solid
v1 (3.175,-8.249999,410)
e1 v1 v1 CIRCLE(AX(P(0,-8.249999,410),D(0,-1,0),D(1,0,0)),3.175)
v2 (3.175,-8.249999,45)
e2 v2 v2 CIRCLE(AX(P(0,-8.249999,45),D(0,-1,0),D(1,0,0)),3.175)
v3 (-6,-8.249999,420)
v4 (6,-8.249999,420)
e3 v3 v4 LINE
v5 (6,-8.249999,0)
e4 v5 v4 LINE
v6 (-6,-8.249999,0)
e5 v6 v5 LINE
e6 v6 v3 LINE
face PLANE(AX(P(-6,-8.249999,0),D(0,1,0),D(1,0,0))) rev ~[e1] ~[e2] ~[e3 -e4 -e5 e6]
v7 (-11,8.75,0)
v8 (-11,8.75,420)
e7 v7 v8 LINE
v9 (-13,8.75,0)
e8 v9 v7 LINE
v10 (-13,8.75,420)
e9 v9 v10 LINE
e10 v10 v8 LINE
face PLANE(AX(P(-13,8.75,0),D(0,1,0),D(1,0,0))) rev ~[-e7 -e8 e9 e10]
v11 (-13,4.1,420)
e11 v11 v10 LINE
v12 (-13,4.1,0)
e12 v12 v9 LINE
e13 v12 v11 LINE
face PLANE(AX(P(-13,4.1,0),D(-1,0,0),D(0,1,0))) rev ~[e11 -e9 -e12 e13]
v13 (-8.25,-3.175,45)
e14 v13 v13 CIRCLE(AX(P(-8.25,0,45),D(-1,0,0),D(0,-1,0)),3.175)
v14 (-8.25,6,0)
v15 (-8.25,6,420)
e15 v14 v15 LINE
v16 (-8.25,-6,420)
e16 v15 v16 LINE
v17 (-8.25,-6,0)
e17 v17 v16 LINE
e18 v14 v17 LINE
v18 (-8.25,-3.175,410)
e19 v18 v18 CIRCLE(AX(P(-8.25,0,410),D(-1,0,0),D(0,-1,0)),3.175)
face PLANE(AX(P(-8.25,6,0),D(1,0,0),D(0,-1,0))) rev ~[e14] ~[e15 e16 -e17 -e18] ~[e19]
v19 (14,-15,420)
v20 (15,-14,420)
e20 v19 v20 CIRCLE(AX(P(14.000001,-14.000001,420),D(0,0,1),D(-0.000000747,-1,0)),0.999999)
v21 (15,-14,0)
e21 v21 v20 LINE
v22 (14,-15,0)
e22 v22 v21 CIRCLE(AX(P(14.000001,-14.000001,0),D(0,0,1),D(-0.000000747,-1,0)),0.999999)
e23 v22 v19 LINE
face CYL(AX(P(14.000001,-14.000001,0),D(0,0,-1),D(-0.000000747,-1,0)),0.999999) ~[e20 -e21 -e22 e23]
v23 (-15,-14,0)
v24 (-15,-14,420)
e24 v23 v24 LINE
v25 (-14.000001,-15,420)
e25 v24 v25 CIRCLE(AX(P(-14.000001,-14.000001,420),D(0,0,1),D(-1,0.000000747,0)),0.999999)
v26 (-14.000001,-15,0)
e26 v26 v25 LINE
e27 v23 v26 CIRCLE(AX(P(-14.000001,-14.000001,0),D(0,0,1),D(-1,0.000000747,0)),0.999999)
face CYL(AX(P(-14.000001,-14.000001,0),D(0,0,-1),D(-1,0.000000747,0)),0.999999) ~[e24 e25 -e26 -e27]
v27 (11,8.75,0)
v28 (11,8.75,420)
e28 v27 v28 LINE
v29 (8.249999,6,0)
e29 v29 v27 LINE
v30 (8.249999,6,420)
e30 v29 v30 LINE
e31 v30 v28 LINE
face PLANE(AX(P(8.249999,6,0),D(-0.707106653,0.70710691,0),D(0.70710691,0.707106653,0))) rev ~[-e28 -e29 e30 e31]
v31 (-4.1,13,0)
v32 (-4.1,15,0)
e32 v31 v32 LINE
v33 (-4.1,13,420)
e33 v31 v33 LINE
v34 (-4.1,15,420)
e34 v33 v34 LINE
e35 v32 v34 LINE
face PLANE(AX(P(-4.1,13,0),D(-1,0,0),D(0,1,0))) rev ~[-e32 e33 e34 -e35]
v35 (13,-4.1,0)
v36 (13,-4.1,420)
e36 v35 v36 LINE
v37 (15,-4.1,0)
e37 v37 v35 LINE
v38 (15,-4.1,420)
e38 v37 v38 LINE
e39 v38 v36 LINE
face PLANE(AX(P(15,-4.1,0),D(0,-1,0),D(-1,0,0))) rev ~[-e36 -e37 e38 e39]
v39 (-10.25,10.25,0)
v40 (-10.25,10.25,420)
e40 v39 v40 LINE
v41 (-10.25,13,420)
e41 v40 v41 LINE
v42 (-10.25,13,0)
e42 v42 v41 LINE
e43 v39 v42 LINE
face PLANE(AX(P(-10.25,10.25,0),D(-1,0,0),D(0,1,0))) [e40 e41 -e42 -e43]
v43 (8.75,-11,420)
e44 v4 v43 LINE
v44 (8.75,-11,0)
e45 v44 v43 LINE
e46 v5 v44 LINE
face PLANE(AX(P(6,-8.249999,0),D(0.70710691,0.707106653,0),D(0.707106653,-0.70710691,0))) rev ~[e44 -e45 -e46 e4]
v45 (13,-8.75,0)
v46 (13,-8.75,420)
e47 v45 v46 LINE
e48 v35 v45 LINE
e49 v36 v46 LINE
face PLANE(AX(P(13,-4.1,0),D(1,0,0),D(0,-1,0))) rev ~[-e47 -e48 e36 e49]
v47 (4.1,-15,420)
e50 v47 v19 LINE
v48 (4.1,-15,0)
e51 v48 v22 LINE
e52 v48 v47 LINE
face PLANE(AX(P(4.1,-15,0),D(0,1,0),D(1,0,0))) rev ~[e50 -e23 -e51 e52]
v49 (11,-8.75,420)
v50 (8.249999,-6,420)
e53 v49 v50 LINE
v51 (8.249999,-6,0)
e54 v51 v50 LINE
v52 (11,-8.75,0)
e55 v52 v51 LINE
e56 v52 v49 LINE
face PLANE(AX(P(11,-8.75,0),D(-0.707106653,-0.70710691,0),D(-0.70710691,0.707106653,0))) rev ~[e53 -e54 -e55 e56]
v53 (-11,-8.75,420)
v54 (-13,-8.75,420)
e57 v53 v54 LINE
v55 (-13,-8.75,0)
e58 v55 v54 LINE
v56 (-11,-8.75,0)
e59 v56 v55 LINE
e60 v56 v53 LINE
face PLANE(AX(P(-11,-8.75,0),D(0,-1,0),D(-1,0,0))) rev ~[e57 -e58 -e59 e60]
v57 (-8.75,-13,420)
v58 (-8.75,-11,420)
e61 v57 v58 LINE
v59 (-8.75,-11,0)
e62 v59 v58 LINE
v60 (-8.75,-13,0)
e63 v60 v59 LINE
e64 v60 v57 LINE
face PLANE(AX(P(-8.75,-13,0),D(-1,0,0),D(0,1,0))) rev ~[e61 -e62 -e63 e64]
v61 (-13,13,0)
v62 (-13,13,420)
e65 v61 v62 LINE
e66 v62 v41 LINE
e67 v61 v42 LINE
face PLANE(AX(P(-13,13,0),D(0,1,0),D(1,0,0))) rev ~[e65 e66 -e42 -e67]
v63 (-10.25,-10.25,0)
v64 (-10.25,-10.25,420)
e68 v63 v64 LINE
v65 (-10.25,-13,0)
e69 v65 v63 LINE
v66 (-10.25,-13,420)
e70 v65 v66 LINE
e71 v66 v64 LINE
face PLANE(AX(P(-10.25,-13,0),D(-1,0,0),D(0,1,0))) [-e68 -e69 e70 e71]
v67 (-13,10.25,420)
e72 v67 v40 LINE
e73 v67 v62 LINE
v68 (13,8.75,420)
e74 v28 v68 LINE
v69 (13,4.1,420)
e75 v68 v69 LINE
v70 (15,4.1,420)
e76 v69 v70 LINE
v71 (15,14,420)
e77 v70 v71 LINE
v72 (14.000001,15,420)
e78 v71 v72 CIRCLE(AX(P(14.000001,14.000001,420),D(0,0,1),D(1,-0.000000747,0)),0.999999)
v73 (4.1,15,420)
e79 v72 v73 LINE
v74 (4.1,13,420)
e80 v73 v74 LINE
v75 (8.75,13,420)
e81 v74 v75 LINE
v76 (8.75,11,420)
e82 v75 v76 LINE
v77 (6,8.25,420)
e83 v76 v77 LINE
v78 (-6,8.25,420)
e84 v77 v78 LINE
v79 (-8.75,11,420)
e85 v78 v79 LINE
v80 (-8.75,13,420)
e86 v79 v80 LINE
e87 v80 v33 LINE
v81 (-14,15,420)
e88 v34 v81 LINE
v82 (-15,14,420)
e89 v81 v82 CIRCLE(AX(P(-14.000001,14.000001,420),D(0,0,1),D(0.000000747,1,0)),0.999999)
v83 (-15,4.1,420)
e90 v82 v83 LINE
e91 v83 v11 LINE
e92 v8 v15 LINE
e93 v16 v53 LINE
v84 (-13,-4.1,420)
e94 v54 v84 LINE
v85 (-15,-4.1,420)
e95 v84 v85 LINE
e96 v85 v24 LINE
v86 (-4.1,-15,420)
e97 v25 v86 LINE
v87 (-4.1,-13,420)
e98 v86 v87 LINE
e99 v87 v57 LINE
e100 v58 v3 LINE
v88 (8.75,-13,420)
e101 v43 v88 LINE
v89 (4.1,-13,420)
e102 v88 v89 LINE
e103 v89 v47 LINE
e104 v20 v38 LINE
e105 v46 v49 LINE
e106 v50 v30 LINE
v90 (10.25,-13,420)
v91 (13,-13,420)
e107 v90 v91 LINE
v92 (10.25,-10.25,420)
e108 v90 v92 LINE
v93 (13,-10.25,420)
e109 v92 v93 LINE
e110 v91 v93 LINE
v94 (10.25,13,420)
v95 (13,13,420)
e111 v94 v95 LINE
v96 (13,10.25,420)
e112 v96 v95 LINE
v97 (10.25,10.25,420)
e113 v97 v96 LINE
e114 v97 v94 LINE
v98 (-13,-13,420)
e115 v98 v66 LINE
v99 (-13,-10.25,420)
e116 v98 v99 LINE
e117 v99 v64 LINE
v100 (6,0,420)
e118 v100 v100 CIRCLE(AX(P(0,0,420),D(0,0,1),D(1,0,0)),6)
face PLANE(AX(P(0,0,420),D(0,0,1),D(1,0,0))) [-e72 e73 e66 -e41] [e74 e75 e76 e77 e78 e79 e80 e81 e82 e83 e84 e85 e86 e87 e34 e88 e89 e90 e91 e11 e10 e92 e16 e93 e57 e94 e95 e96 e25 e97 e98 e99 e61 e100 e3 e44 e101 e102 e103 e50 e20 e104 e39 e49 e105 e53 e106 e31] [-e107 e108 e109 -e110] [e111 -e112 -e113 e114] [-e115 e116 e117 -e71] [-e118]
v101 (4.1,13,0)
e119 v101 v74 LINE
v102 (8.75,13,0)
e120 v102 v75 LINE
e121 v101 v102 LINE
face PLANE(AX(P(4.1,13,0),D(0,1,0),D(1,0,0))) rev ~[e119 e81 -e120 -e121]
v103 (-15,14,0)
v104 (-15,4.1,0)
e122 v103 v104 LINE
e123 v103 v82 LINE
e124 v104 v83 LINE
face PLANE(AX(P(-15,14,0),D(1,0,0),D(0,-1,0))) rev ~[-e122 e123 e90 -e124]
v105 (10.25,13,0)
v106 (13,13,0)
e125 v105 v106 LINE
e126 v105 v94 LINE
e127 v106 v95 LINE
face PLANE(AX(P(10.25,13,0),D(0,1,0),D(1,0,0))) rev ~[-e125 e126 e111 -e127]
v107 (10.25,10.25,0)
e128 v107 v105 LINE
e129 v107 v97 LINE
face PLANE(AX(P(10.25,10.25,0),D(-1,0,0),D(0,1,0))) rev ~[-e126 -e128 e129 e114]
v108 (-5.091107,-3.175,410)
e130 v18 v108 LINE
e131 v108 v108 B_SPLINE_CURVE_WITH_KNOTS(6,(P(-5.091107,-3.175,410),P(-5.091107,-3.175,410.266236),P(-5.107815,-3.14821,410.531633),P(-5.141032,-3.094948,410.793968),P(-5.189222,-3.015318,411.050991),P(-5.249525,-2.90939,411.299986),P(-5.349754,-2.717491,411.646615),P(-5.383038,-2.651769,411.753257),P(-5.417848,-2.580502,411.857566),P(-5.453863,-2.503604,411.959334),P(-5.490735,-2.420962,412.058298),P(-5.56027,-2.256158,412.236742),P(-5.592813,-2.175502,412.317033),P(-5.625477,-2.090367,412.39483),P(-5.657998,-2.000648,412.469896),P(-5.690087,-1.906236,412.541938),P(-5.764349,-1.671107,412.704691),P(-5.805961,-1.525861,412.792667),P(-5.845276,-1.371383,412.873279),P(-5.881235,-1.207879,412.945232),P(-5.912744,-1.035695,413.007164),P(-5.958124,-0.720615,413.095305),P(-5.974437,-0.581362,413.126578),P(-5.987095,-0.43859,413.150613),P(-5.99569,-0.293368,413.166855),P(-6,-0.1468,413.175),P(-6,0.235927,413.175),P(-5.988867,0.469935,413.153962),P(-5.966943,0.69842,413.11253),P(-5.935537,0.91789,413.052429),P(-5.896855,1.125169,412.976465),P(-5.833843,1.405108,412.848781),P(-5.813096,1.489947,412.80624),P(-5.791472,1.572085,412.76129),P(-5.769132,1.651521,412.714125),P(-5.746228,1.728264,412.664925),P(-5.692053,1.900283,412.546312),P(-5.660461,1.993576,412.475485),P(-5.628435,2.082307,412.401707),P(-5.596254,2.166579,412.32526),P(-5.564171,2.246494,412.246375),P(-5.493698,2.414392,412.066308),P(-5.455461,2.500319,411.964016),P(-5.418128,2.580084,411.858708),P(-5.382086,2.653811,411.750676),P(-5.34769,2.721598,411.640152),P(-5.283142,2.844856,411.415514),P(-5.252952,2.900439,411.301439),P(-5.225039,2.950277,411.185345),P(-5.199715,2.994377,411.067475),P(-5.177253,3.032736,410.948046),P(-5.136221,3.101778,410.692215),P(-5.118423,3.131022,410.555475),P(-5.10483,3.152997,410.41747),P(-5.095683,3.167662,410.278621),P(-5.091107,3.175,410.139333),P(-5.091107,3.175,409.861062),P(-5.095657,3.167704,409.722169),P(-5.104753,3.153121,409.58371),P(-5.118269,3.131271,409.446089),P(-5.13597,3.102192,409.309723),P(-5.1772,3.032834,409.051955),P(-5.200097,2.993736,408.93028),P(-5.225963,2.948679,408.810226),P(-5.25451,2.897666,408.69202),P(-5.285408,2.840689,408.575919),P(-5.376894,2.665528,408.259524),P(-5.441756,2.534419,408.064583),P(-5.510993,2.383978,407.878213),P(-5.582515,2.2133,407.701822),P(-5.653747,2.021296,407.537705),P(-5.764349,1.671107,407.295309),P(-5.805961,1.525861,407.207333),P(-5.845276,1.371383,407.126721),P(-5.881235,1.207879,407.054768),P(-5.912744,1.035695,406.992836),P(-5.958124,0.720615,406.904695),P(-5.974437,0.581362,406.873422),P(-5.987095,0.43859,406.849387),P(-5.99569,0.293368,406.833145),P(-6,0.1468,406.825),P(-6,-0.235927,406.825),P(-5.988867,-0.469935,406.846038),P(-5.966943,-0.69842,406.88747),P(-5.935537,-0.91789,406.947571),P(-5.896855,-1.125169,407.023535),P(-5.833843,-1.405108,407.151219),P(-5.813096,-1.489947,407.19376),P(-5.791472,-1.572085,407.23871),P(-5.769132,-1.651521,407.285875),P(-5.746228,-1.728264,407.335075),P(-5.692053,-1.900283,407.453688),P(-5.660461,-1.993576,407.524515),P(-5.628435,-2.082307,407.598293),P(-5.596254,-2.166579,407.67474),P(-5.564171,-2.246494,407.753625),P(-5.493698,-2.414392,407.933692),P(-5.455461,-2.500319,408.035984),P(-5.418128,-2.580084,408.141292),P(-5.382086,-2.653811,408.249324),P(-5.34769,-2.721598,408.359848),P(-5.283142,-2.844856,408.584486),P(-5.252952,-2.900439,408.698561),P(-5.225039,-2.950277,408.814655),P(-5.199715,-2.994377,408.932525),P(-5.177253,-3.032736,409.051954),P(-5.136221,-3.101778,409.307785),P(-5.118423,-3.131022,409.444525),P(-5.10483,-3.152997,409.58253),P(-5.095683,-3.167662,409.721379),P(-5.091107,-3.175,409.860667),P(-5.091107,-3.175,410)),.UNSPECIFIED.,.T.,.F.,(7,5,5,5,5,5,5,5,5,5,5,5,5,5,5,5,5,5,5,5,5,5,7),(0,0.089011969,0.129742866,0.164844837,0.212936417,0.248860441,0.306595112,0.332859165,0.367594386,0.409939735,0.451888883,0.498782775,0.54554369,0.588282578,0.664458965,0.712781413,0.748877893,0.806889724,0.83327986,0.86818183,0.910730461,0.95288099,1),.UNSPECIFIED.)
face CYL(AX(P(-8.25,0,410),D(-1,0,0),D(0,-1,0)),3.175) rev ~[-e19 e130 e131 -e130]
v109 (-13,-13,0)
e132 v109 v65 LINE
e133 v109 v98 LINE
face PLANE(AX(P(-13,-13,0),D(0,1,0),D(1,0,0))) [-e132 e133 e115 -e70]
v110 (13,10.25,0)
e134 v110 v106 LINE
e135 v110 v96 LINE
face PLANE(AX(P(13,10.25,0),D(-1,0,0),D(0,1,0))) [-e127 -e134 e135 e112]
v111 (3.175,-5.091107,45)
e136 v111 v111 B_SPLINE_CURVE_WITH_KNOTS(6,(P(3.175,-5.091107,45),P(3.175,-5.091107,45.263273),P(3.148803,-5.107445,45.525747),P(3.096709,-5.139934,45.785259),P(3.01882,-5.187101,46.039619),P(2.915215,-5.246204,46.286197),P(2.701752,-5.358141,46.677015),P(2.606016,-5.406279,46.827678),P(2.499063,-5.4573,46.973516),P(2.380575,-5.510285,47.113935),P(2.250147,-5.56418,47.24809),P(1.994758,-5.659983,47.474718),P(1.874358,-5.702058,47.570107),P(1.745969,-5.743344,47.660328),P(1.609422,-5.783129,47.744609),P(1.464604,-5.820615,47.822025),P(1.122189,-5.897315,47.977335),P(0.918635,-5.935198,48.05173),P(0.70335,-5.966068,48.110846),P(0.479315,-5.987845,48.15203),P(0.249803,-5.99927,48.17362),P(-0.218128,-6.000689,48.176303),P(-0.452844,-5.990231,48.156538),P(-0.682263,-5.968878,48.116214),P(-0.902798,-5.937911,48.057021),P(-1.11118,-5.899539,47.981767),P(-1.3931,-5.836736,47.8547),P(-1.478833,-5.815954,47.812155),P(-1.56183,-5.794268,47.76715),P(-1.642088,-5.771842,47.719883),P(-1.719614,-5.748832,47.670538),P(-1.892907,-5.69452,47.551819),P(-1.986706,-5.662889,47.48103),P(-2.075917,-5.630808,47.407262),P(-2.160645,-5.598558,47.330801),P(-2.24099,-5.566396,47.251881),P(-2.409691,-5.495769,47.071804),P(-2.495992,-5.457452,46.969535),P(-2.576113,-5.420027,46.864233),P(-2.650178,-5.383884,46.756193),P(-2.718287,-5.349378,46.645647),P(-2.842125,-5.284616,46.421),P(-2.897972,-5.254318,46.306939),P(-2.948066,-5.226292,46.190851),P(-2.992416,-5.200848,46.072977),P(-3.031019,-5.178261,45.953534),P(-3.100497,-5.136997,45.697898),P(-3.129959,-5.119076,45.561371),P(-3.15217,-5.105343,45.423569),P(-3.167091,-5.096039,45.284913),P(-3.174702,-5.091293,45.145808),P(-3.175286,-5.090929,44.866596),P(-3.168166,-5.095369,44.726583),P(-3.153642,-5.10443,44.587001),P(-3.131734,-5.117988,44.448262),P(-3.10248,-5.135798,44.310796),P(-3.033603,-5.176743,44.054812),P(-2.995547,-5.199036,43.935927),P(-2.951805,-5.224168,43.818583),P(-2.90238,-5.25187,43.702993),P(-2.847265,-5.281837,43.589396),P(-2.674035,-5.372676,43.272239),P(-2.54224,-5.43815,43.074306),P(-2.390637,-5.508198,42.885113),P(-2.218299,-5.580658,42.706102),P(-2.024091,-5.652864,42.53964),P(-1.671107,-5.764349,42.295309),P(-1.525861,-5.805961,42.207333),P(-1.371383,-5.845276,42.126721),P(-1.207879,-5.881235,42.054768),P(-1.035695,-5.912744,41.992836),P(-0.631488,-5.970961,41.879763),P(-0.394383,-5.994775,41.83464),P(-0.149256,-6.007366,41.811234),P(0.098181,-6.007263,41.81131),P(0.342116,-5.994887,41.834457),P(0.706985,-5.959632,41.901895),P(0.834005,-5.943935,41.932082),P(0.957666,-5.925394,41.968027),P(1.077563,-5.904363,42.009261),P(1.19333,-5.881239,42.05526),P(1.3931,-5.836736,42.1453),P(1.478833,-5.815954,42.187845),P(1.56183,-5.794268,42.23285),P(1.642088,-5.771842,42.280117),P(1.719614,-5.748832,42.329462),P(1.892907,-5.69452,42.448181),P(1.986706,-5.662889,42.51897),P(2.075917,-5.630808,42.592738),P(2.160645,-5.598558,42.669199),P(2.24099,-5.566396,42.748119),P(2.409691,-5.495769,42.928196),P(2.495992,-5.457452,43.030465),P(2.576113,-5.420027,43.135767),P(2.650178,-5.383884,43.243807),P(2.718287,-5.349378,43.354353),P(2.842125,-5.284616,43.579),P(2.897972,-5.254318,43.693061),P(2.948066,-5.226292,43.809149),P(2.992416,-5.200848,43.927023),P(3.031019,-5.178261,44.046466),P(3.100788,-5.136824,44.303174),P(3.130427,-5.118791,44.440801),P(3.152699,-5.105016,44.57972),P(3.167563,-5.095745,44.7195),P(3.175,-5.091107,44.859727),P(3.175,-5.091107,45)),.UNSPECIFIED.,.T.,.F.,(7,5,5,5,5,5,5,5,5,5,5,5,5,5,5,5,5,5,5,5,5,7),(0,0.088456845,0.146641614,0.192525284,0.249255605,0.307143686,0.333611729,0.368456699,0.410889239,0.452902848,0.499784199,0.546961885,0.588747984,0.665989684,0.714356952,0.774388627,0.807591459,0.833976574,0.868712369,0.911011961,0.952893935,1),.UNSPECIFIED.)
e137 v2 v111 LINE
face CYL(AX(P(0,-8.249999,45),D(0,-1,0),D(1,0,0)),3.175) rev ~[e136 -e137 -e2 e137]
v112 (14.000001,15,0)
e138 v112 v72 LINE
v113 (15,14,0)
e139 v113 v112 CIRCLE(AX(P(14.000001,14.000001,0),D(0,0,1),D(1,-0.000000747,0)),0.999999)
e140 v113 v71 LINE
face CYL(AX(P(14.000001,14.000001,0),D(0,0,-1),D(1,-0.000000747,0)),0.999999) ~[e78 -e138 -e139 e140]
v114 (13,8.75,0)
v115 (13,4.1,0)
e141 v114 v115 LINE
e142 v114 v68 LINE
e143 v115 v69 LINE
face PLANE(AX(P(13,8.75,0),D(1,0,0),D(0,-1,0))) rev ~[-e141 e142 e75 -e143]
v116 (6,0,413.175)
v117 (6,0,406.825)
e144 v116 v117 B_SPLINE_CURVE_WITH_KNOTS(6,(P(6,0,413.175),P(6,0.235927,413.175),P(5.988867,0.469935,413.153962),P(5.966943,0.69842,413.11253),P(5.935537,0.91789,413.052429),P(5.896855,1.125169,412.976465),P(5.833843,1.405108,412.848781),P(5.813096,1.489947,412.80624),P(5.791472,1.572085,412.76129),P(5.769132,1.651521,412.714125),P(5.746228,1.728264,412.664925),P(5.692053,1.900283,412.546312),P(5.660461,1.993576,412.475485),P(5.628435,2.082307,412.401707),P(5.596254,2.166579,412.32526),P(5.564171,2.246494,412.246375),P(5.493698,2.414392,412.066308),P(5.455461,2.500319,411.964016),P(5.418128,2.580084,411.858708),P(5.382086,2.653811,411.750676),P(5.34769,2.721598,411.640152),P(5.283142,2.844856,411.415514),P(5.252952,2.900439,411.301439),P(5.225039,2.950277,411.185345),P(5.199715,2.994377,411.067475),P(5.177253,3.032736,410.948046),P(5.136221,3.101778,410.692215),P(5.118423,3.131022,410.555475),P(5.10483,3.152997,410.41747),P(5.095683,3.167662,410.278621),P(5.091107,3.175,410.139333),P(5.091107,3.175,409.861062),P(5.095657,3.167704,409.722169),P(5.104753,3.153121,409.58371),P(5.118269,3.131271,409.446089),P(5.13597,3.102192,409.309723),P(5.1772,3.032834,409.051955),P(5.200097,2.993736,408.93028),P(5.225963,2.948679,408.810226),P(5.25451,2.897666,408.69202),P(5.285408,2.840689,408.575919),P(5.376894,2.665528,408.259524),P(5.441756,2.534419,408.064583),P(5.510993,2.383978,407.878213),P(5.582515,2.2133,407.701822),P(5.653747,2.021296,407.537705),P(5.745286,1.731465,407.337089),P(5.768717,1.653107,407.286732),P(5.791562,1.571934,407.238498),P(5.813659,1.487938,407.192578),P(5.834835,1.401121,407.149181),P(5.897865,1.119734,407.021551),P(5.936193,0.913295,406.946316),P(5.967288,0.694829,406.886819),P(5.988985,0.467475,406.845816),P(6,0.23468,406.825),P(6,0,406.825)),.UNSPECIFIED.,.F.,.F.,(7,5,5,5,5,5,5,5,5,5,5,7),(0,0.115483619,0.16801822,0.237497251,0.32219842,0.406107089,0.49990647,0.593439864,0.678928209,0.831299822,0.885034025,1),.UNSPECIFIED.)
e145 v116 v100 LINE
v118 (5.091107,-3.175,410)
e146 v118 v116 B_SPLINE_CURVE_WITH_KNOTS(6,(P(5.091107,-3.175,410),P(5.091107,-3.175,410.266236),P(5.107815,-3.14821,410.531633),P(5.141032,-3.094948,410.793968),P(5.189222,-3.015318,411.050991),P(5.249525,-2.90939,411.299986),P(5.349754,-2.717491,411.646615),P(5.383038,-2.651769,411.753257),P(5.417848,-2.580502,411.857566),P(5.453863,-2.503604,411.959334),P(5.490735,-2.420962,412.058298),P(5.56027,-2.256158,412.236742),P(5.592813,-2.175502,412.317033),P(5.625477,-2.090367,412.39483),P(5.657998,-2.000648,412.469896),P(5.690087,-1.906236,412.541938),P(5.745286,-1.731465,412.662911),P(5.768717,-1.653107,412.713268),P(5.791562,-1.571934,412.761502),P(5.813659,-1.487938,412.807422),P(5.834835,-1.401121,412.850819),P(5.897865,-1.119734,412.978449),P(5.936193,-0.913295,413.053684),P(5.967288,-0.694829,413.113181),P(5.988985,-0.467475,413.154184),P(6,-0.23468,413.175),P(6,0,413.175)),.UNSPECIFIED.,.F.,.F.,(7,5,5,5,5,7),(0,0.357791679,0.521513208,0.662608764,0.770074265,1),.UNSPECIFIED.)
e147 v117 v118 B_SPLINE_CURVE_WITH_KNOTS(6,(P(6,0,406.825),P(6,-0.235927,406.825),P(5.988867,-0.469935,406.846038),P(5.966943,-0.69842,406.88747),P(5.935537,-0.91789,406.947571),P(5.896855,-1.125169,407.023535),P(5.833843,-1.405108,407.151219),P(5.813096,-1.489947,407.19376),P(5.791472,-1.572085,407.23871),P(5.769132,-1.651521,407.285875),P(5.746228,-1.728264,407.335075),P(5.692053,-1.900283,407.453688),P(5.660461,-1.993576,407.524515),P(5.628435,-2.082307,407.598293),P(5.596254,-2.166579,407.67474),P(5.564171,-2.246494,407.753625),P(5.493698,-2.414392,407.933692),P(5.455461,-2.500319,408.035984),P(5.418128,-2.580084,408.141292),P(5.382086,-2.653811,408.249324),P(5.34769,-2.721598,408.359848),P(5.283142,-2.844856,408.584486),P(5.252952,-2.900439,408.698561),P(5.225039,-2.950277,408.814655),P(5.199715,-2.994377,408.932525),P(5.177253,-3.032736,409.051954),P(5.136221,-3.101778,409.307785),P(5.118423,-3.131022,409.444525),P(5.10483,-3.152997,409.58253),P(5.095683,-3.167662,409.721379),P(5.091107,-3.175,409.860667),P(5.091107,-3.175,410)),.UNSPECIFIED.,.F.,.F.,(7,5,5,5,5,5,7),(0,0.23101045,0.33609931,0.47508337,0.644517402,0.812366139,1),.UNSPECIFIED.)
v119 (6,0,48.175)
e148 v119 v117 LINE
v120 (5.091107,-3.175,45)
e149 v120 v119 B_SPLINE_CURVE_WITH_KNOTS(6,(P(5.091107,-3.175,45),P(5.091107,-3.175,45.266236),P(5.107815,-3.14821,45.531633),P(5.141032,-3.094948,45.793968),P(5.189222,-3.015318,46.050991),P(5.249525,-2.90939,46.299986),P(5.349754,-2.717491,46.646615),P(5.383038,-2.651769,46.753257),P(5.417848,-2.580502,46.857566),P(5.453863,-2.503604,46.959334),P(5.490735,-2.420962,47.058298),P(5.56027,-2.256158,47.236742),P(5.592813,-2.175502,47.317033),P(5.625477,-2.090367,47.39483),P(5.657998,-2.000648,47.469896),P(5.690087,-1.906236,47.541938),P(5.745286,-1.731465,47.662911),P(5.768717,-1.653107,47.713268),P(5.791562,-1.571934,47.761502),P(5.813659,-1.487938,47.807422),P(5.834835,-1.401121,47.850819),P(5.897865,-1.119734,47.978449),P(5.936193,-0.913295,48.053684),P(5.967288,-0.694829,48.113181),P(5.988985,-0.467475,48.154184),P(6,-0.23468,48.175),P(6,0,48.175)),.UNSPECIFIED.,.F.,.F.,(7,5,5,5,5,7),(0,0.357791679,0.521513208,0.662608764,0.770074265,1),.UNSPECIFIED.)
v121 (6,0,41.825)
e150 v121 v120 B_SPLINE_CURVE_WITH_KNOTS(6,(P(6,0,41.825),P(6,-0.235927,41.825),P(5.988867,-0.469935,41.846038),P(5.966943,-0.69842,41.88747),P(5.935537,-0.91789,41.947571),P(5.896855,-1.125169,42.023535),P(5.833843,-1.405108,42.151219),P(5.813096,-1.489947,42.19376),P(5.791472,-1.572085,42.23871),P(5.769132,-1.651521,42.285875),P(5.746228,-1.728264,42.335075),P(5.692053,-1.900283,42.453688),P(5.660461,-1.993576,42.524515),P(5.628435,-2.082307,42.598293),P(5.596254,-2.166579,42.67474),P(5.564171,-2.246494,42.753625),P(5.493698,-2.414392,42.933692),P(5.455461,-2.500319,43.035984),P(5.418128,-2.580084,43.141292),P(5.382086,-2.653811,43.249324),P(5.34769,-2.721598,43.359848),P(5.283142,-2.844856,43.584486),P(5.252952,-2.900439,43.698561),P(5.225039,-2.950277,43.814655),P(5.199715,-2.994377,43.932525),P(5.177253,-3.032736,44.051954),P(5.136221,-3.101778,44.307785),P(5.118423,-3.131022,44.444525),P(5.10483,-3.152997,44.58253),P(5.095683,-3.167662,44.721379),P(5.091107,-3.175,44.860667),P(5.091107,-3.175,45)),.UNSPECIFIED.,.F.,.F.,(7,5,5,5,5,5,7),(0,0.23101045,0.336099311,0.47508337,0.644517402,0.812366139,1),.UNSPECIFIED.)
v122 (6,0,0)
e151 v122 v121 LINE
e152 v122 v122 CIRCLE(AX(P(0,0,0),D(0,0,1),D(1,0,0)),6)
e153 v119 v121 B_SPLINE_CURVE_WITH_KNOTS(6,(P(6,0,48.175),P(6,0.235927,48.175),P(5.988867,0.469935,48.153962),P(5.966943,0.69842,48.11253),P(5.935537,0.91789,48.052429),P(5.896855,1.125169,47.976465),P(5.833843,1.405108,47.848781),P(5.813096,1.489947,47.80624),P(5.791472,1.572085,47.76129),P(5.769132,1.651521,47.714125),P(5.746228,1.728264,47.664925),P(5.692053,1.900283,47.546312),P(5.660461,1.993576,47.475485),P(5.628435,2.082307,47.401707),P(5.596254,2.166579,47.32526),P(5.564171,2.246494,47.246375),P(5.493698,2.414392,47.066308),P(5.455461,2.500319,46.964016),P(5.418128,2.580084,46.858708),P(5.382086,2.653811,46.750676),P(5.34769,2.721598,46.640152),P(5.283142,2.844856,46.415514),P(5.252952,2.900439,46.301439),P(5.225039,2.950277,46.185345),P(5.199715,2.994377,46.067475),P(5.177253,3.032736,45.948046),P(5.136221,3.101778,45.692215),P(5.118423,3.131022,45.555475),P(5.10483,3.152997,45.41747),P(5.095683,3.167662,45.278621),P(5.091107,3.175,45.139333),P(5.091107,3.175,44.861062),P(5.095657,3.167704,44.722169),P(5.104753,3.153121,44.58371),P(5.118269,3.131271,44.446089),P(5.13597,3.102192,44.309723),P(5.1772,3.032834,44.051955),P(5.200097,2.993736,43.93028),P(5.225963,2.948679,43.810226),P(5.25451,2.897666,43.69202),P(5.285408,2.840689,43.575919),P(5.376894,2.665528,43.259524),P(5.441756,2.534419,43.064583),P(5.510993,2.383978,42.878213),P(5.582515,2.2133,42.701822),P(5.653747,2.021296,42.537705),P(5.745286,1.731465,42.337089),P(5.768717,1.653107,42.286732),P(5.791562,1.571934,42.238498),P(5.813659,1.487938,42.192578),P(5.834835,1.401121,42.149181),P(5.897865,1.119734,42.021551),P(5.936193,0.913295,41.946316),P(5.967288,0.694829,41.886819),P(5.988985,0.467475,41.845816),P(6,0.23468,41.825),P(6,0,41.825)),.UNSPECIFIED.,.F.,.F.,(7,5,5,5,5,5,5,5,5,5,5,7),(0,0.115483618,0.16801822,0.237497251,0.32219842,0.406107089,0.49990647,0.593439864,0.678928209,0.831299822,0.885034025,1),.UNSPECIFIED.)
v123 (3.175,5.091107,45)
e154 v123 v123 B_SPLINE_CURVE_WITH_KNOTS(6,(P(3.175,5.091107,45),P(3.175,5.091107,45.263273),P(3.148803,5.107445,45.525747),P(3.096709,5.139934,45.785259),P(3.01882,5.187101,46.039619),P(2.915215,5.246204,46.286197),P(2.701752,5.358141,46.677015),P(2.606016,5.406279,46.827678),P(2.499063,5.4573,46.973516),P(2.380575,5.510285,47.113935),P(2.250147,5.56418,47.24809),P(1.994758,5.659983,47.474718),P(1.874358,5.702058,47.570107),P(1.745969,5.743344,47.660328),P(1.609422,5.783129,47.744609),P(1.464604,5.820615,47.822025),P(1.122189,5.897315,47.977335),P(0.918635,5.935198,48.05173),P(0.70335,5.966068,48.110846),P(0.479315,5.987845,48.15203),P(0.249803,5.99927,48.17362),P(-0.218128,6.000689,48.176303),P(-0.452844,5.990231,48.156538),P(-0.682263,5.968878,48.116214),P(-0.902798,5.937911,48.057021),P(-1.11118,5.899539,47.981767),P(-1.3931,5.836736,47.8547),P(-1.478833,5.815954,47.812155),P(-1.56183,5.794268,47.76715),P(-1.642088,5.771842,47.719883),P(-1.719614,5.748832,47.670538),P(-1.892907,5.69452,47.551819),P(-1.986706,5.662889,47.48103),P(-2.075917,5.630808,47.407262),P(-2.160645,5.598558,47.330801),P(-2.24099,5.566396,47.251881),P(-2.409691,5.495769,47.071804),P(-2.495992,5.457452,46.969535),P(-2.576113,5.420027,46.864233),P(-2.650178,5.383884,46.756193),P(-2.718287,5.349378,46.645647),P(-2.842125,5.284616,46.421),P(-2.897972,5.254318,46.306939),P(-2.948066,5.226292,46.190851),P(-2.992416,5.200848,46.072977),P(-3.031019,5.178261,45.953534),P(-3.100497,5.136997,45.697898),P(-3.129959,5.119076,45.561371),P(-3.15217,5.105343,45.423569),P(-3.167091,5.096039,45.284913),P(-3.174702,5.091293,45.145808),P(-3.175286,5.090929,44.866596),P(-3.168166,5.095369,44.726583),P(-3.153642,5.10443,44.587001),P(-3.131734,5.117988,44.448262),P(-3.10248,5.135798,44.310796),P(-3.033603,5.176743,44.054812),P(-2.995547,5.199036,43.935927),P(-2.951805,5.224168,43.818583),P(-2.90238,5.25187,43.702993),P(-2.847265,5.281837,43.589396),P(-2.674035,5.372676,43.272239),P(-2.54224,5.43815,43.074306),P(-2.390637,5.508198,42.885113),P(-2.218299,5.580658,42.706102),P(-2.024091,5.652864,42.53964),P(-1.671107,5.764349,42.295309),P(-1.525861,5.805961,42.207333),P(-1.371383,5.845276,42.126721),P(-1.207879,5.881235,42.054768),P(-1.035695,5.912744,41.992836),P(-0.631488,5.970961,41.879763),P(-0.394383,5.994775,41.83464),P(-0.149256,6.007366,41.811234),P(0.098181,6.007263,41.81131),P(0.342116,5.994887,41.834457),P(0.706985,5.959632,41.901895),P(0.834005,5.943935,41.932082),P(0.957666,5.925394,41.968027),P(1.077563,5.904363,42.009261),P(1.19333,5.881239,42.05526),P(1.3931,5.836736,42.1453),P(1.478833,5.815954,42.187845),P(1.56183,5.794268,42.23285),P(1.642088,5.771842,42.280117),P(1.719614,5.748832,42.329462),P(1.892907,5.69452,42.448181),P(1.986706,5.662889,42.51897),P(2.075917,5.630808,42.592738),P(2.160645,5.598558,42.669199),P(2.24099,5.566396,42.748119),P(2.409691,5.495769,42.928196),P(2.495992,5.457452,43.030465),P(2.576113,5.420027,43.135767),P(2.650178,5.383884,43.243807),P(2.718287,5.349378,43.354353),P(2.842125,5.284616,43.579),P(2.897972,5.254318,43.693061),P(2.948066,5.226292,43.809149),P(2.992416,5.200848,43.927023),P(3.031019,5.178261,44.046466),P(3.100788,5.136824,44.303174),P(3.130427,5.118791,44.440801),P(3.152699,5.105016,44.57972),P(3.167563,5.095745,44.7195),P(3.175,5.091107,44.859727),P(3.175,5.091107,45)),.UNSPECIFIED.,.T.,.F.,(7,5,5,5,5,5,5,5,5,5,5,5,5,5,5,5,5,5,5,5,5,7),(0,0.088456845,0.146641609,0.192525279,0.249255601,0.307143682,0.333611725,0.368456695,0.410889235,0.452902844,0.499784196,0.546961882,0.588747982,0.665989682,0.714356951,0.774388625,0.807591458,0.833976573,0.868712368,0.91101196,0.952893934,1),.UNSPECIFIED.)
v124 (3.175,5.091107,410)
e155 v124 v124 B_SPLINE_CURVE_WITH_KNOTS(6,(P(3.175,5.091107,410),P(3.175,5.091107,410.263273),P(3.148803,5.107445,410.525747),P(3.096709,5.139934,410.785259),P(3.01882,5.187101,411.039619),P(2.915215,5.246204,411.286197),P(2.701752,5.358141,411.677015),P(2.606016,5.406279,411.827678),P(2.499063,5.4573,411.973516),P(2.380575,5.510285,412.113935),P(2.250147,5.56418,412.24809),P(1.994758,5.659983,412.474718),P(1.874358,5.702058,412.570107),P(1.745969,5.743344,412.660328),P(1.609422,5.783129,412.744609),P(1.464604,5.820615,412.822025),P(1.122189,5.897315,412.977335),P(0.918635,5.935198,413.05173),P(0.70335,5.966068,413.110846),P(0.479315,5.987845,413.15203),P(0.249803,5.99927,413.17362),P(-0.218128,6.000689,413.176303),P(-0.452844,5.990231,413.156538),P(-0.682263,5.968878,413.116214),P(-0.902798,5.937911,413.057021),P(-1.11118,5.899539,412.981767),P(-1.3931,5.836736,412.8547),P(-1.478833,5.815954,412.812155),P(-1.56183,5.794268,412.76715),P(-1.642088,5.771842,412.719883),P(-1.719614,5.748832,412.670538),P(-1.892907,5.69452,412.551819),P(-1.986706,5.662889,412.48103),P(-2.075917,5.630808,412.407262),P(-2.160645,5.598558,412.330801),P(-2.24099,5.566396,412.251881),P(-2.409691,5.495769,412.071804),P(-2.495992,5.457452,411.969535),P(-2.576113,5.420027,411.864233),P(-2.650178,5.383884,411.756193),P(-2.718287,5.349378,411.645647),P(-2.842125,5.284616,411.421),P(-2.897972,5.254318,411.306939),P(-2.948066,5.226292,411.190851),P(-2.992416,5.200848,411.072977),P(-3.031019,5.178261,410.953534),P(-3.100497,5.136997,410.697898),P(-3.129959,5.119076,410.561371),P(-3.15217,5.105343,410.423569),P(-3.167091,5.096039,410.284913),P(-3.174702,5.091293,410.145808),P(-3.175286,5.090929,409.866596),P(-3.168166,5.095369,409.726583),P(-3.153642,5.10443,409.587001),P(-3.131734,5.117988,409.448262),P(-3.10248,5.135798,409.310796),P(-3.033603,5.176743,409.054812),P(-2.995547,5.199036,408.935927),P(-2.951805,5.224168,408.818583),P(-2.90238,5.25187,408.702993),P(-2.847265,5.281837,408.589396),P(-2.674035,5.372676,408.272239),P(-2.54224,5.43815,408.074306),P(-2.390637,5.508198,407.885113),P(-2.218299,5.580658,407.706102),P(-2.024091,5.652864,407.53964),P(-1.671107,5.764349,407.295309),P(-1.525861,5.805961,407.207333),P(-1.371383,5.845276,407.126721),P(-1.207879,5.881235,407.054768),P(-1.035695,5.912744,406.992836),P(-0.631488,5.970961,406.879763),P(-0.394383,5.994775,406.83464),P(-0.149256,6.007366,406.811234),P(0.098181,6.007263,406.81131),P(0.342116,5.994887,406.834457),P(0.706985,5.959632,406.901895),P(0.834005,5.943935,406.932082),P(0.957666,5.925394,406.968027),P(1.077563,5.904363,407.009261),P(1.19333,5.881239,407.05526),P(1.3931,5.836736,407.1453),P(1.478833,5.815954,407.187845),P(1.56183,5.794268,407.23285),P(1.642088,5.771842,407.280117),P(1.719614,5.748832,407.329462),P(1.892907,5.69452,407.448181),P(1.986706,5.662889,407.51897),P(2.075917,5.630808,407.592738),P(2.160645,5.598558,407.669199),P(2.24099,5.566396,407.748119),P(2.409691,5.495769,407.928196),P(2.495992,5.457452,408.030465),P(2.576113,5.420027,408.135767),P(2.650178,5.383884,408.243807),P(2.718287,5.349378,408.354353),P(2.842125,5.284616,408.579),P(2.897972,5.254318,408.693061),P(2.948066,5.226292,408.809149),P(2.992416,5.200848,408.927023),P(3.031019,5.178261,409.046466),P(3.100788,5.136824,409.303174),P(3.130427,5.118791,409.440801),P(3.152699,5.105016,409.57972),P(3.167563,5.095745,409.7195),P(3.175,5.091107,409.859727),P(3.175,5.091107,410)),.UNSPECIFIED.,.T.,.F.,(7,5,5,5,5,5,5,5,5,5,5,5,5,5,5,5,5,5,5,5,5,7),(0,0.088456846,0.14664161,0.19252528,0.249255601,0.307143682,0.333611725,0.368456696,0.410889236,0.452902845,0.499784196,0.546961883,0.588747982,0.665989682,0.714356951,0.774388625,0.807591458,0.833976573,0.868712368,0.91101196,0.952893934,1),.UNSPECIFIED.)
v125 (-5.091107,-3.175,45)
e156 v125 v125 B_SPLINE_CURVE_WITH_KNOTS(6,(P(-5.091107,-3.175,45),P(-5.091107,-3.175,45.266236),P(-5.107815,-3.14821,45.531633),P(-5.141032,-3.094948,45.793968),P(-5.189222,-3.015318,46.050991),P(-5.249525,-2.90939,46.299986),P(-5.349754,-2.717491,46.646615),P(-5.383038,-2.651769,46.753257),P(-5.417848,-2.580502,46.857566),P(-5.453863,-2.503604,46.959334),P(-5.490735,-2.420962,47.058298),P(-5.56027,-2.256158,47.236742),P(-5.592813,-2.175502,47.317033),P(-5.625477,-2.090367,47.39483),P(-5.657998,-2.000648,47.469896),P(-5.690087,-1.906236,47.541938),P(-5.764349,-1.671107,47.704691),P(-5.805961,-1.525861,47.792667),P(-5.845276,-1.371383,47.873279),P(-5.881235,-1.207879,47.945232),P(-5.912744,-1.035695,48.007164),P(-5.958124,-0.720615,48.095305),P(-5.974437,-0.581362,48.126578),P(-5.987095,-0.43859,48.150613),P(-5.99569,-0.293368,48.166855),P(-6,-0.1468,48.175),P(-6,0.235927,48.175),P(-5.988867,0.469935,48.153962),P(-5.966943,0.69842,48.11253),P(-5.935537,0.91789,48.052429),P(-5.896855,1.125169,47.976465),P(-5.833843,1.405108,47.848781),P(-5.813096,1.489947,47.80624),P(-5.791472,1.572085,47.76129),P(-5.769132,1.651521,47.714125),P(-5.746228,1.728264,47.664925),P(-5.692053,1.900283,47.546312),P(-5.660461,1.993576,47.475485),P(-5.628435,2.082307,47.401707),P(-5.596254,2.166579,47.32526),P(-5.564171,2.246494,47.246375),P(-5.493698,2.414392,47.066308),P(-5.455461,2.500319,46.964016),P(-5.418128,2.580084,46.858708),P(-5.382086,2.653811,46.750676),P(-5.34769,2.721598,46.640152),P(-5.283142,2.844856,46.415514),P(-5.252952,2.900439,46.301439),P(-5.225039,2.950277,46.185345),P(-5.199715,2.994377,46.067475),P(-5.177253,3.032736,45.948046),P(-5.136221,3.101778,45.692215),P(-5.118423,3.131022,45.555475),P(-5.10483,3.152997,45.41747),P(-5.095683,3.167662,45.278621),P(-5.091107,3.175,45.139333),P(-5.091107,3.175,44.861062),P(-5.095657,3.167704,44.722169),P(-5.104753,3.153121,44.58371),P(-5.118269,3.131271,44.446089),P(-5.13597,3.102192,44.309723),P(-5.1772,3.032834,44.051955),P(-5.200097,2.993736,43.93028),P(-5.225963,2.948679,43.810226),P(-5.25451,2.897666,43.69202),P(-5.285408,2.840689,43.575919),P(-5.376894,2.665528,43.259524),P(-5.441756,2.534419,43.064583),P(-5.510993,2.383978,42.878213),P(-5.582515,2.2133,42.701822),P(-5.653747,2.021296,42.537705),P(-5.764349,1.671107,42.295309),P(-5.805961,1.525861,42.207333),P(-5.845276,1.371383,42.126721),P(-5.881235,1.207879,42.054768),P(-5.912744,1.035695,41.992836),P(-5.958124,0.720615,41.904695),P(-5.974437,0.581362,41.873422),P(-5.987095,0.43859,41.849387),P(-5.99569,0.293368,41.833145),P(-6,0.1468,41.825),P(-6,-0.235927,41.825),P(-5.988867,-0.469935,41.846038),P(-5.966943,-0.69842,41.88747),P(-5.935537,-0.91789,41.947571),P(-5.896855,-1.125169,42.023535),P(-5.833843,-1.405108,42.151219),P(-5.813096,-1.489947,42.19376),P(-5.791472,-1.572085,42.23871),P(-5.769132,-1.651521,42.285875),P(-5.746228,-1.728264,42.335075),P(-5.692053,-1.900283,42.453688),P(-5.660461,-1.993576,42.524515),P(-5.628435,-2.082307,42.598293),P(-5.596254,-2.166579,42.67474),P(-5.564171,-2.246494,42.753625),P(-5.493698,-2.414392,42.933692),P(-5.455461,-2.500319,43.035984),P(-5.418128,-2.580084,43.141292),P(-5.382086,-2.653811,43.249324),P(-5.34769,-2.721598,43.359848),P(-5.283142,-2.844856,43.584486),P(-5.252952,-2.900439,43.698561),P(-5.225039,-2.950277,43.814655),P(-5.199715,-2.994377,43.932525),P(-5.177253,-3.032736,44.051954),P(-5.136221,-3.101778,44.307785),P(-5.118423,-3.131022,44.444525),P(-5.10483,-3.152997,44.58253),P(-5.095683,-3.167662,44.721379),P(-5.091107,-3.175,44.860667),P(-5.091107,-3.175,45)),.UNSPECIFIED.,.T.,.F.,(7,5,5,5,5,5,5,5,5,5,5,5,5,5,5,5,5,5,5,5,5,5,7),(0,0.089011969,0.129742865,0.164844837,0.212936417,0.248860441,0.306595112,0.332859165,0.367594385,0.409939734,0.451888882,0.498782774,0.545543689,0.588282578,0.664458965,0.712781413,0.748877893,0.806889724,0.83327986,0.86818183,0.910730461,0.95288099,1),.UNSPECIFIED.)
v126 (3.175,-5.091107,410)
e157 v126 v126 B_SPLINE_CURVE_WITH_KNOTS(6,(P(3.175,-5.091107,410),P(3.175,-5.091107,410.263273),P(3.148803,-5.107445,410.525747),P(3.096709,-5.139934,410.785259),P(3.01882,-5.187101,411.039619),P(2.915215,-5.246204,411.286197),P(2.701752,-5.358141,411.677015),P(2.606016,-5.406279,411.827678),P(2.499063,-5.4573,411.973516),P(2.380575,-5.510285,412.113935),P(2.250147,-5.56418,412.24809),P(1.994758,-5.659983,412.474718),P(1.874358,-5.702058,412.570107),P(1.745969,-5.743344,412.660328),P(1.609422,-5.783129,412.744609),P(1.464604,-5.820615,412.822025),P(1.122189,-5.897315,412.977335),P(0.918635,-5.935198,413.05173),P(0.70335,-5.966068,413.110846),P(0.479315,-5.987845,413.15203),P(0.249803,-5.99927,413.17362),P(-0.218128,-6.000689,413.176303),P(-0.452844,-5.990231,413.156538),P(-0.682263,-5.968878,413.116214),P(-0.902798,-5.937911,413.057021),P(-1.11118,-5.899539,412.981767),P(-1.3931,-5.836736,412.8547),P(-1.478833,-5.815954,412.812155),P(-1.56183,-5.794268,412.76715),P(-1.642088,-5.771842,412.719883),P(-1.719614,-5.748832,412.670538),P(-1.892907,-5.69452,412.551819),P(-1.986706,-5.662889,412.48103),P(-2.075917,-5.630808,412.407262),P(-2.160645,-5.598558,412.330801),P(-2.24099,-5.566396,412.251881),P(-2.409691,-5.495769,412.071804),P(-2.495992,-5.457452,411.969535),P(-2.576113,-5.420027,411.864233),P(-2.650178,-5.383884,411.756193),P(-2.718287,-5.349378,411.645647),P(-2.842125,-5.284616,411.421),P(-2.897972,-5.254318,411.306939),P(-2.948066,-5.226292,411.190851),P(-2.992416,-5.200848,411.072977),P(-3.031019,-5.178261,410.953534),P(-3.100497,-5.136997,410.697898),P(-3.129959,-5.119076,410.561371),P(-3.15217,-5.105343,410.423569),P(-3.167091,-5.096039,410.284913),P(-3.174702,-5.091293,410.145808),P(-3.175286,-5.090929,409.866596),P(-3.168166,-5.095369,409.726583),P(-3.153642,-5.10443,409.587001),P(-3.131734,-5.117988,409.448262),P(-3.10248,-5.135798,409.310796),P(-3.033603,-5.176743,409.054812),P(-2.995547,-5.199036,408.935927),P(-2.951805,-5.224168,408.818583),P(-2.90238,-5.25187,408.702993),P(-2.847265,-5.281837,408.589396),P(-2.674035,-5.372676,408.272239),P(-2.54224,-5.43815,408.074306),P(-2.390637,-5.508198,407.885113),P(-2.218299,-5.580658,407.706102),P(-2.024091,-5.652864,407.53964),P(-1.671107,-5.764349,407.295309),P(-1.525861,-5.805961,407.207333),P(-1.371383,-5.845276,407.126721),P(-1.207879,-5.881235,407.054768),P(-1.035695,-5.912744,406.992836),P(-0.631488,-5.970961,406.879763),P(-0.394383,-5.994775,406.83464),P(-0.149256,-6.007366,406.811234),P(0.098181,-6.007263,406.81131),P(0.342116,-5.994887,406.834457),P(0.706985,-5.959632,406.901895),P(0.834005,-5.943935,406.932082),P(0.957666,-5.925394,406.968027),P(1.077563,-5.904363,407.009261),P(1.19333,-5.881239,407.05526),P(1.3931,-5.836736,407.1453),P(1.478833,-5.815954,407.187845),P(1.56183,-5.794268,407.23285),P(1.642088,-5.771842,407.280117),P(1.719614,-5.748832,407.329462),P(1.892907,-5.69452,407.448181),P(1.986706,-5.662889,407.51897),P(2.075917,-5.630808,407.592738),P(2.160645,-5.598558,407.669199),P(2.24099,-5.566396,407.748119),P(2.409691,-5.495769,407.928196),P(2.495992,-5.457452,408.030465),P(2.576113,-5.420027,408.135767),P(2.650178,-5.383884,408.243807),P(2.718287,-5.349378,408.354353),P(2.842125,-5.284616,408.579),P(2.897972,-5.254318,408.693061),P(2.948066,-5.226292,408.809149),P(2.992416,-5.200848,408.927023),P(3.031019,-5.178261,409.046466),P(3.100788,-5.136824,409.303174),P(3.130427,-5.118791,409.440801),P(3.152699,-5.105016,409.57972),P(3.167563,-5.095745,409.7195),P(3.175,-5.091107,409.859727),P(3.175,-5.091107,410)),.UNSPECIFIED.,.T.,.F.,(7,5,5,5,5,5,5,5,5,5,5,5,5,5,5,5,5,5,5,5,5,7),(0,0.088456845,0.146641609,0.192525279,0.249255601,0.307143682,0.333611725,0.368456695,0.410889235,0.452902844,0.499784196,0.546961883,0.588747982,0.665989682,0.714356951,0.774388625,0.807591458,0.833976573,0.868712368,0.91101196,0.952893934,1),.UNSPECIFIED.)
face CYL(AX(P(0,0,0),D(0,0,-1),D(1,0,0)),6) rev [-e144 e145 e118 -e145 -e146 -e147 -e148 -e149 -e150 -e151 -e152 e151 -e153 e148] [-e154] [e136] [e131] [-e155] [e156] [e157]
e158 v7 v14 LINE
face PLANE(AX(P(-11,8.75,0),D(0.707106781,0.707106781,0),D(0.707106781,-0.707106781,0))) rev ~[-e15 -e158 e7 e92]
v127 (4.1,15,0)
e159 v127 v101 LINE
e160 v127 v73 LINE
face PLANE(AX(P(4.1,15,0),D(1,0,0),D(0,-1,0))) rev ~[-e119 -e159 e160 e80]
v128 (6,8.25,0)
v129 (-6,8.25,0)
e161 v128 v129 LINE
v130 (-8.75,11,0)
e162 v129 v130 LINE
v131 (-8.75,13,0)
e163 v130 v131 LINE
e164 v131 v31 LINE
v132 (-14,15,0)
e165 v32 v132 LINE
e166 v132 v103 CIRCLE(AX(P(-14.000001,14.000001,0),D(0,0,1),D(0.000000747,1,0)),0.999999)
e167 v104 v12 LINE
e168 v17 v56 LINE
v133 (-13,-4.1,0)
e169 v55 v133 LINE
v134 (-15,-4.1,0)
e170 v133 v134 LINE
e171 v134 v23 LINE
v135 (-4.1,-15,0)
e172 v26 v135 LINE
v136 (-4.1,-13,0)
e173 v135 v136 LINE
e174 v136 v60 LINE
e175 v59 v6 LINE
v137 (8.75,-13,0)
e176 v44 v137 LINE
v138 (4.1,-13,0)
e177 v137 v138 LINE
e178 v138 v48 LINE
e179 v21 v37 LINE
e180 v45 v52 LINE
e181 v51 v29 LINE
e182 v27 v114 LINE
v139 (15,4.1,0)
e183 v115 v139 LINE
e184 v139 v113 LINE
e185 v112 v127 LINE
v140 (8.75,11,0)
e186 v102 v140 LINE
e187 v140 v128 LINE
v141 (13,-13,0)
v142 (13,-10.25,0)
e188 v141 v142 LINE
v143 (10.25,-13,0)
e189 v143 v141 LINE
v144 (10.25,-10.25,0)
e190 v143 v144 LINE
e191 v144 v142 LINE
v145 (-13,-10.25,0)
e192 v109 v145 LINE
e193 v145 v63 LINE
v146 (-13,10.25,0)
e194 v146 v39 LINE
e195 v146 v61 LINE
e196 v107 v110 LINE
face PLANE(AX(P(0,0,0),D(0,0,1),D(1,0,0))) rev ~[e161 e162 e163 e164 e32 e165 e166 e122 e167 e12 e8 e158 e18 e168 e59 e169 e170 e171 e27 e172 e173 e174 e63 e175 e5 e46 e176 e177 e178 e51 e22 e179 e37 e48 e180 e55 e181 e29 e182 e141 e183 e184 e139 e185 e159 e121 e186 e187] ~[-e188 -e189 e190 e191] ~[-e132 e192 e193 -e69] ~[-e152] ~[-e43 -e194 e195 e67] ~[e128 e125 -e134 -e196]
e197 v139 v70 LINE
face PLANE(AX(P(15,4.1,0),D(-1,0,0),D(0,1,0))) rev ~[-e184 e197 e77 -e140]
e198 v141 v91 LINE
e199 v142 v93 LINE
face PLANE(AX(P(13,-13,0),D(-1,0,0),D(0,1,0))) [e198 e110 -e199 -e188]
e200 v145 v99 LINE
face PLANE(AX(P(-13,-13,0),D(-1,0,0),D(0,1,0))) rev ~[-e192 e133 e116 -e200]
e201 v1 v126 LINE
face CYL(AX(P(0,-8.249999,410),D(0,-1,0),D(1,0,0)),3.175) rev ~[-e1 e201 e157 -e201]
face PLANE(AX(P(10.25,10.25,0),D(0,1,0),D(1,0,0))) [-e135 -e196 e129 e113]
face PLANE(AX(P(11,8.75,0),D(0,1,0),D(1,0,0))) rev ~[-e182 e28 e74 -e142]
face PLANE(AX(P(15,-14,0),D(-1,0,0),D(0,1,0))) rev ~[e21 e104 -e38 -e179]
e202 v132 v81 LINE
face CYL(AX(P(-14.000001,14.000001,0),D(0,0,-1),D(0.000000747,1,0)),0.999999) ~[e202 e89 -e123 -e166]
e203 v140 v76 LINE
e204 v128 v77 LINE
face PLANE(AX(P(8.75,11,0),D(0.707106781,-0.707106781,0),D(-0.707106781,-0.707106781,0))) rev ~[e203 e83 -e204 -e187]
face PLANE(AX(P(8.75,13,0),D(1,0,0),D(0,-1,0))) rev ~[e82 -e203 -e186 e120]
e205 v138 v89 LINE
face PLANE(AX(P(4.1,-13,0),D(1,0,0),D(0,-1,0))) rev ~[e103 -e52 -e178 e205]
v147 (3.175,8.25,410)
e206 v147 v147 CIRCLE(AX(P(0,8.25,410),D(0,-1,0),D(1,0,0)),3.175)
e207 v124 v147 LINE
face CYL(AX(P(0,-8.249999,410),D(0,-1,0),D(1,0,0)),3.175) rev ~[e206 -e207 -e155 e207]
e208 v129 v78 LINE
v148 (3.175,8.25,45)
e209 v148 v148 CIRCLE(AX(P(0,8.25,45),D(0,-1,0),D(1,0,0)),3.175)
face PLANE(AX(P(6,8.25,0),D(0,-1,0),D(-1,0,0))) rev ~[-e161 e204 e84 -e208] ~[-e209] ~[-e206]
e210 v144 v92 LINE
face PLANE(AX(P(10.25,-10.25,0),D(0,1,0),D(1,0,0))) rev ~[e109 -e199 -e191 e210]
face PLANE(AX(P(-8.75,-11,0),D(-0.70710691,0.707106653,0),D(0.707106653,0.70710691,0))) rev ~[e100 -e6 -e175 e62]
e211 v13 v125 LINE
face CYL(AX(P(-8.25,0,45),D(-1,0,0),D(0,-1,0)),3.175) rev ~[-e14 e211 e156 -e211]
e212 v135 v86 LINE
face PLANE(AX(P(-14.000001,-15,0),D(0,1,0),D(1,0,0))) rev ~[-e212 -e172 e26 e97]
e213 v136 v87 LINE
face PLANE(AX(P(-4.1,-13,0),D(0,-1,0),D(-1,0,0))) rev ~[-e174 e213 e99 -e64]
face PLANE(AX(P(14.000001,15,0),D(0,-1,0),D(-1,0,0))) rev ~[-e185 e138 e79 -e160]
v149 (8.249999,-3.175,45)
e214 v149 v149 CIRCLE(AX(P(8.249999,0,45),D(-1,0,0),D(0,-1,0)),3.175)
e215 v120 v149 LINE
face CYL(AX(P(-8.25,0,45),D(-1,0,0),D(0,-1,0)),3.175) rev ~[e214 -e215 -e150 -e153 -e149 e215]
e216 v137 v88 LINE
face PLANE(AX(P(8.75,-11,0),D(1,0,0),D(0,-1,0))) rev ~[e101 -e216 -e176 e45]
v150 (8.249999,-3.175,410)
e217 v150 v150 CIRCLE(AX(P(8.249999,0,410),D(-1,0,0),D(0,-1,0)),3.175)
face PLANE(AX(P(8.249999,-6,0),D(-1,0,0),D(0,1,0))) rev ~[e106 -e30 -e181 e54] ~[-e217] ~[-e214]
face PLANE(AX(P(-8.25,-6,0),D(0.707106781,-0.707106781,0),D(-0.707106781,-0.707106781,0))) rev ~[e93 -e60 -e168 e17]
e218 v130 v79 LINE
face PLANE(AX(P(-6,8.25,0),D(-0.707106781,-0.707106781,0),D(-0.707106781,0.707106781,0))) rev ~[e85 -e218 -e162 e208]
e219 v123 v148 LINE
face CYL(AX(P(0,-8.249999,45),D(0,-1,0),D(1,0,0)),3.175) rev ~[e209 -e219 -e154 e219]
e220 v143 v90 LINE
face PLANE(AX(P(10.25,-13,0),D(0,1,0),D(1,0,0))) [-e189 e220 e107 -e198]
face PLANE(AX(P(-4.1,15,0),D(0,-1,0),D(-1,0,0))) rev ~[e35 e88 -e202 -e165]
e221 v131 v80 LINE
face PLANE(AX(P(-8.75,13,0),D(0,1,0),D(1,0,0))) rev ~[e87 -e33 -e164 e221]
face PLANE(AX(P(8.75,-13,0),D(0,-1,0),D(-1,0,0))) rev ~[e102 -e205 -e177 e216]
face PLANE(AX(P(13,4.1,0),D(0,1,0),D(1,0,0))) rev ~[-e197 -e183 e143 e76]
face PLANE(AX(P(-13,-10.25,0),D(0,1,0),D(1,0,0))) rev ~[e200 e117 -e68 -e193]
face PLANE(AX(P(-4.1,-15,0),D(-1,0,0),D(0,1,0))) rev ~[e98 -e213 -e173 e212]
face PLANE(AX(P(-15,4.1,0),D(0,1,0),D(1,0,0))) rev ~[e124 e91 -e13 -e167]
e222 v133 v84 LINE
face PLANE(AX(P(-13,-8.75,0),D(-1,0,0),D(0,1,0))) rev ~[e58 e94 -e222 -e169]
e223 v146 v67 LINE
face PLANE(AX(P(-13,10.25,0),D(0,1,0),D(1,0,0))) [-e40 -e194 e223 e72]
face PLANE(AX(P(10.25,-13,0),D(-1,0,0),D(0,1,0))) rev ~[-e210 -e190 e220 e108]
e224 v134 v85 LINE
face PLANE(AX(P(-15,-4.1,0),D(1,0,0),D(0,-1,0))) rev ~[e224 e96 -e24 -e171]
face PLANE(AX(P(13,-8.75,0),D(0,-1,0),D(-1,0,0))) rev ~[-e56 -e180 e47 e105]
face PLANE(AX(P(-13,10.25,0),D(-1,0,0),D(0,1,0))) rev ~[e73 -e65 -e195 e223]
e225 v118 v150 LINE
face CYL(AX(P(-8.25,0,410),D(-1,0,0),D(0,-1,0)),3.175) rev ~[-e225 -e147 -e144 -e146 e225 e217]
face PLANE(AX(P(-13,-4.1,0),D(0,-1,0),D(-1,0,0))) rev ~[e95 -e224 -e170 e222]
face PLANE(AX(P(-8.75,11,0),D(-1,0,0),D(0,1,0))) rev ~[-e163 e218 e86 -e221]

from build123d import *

# Parameters (mm, degrees)
SKETCH006_R     = 6
SKETCH006_W     = 2.75
SKETCH006_H     = 2.75
PAD_DEPTH       = 420
SKETCH_R        = 3.175
POCKET_DEPTH    = 23.250999
SKETCH007_R     = 3.175
POCKET001_DEPTH = 23.251


with BuildPart() as part:
    # Sketch006 → Pad (new body)
    with BuildSketch(Plane.XY):
        with BuildLine():
            Line((4.1, -15), (14, -15))
            ThreePointArc((14, -15), (14.707107, -14.707107), (15, -14))
            Line((15, -14), (15, -4.1))
            Line((15, -4.1), (13, -4.1))
            Line((13, -4.1), (13, -8.75))
            Line((13, -8.75), (11, -8.75))
            Line((11, -8.75), (8.249999, -6))
            Line((8.249999, -6), (8.249999, 6))
            Line((8.249999, 6), (11, 8.75))
            Line((11, 8.75), (13, 8.75))
            Line((13, 8.75), (13, 4.1))
            Line((13, 4.1), (15, 4.1))
            Line((15, 4.1), (15, 14))
            ThreePointArc((15, 14), (14.707107, 14.707107), (14.000001, 15))
            Line((14.000001, 15), (4.1, 15))
            Line((4.1, 15), (4.1, 13))
            Line((4.1, 13), (8.75, 13))
            Line((8.75, 13), (8.75, 11))
            Line((8.75, 11), (6, 8.25))
            Line((6, 8.25), (-6, 8.25))
            Line((-6, 8.25), (-8.75, 11))
            Line((-8.75, 11), (-8.75, 13))
            Line((-8.75, 13), (-4.1, 13))
            Line((-4.1, 13), (-4.1, 15))
            Line((-4.1, 15), (-14, 15))
            ThreePointArc((-14, 15), (-14.707107, 14.707107), (-15, 14))
            Line((-15, 14), (-15, 4.1))
            Line((-15, 4.1), (-13, 4.1))
            Line((-13, 4.1), (-13, 8.75))
            Line((-13, 8.75), (-11, 8.75))
            Line((-11, 8.75), (-8.25, 6))
            Line((-8.25, 6), (-8.25, -6))
            Line((-8.25, -6), (-11, -8.75))
            Line((-11, -8.75), (-13, -8.75))
            Line((-13, -8.75), (-13, -4.1))
            Line((-13, -4.1), (-15, -4.1))
            Line((-15, -4.1), (-15, -14))
            ThreePointArc((-15, -14), (-14.707107, -14.707107), (-14.000001, -15))
            Line((-14.000001, -15), (-4.1, -15))
            Line((-4.1, -15), (-4.1, -13))
            Line((-4.1, -13), (-8.75, -13))
            Line((-8.75, -13), (-8.75, -11))
            Line((-8.75, -11), (-6, -8.249999))
            Line((-6, -8.249999), (6, -8.249999))
            Line((6, -8.249999), (8.75, -11))
            Line((8.75, -11), (8.75, -13))
            Line((8.75, -13), (4.1, -13))
            Line((4.1, -13), (4.1, -15))
        make_face()
        Circle(SKETCH006_R, mode=Mode.SUBTRACT)
        with Locations((-11.625, -11.625)):
            Rectangle(SKETCH006_W, SKETCH006_H, mode=Mode.SUBTRACT)
        with Locations((11.625, -11.625)):
            Rectangle(SKETCH006_W, SKETCH006_H, mode=Mode.SUBTRACT)
        with Locations((11.625, 11.625)):
            Rectangle(SKETCH006_W, SKETCH006_H, mode=Mode.SUBTRACT)
        with Locations((-11.625, 11.625)):
            Rectangle(SKETCH006_W, SKETCH006_H, mode=Mode.SUBTRACT)
    extrude(amount=PAD_DEPTH)

    # Sketch (on Face44 of Pad) → Pocket (cut, through all)
    with BuildSketch(Plane.XZ.offset(8.249999)):
        with Locations((0, 45)):
            Circle(SKETCH_R)
        with Locations((0, 410)):
            Circle(SKETCH_R)
    extrude(amount=-POCKET_DEPTH, mode=Mode.SUBTRACT)

    # Sketch007 (on Face36 of Pocket) → Pocket001 (cut, through all)
    with BuildSketch(Plane(origin=(-8.25, 0, 0), x_dir=(0, -1, 0), z_dir=(-1, 0, 0))):
        with Locations((0, 45)):
            Circle(SKETCH007_R)
        with Locations((0, 410)):
            Circle(SKETCH007_R)
    extrude(amount=-POCKET001_DEPTH, mode=Mode.SUBTRACT)


solid = part.part
